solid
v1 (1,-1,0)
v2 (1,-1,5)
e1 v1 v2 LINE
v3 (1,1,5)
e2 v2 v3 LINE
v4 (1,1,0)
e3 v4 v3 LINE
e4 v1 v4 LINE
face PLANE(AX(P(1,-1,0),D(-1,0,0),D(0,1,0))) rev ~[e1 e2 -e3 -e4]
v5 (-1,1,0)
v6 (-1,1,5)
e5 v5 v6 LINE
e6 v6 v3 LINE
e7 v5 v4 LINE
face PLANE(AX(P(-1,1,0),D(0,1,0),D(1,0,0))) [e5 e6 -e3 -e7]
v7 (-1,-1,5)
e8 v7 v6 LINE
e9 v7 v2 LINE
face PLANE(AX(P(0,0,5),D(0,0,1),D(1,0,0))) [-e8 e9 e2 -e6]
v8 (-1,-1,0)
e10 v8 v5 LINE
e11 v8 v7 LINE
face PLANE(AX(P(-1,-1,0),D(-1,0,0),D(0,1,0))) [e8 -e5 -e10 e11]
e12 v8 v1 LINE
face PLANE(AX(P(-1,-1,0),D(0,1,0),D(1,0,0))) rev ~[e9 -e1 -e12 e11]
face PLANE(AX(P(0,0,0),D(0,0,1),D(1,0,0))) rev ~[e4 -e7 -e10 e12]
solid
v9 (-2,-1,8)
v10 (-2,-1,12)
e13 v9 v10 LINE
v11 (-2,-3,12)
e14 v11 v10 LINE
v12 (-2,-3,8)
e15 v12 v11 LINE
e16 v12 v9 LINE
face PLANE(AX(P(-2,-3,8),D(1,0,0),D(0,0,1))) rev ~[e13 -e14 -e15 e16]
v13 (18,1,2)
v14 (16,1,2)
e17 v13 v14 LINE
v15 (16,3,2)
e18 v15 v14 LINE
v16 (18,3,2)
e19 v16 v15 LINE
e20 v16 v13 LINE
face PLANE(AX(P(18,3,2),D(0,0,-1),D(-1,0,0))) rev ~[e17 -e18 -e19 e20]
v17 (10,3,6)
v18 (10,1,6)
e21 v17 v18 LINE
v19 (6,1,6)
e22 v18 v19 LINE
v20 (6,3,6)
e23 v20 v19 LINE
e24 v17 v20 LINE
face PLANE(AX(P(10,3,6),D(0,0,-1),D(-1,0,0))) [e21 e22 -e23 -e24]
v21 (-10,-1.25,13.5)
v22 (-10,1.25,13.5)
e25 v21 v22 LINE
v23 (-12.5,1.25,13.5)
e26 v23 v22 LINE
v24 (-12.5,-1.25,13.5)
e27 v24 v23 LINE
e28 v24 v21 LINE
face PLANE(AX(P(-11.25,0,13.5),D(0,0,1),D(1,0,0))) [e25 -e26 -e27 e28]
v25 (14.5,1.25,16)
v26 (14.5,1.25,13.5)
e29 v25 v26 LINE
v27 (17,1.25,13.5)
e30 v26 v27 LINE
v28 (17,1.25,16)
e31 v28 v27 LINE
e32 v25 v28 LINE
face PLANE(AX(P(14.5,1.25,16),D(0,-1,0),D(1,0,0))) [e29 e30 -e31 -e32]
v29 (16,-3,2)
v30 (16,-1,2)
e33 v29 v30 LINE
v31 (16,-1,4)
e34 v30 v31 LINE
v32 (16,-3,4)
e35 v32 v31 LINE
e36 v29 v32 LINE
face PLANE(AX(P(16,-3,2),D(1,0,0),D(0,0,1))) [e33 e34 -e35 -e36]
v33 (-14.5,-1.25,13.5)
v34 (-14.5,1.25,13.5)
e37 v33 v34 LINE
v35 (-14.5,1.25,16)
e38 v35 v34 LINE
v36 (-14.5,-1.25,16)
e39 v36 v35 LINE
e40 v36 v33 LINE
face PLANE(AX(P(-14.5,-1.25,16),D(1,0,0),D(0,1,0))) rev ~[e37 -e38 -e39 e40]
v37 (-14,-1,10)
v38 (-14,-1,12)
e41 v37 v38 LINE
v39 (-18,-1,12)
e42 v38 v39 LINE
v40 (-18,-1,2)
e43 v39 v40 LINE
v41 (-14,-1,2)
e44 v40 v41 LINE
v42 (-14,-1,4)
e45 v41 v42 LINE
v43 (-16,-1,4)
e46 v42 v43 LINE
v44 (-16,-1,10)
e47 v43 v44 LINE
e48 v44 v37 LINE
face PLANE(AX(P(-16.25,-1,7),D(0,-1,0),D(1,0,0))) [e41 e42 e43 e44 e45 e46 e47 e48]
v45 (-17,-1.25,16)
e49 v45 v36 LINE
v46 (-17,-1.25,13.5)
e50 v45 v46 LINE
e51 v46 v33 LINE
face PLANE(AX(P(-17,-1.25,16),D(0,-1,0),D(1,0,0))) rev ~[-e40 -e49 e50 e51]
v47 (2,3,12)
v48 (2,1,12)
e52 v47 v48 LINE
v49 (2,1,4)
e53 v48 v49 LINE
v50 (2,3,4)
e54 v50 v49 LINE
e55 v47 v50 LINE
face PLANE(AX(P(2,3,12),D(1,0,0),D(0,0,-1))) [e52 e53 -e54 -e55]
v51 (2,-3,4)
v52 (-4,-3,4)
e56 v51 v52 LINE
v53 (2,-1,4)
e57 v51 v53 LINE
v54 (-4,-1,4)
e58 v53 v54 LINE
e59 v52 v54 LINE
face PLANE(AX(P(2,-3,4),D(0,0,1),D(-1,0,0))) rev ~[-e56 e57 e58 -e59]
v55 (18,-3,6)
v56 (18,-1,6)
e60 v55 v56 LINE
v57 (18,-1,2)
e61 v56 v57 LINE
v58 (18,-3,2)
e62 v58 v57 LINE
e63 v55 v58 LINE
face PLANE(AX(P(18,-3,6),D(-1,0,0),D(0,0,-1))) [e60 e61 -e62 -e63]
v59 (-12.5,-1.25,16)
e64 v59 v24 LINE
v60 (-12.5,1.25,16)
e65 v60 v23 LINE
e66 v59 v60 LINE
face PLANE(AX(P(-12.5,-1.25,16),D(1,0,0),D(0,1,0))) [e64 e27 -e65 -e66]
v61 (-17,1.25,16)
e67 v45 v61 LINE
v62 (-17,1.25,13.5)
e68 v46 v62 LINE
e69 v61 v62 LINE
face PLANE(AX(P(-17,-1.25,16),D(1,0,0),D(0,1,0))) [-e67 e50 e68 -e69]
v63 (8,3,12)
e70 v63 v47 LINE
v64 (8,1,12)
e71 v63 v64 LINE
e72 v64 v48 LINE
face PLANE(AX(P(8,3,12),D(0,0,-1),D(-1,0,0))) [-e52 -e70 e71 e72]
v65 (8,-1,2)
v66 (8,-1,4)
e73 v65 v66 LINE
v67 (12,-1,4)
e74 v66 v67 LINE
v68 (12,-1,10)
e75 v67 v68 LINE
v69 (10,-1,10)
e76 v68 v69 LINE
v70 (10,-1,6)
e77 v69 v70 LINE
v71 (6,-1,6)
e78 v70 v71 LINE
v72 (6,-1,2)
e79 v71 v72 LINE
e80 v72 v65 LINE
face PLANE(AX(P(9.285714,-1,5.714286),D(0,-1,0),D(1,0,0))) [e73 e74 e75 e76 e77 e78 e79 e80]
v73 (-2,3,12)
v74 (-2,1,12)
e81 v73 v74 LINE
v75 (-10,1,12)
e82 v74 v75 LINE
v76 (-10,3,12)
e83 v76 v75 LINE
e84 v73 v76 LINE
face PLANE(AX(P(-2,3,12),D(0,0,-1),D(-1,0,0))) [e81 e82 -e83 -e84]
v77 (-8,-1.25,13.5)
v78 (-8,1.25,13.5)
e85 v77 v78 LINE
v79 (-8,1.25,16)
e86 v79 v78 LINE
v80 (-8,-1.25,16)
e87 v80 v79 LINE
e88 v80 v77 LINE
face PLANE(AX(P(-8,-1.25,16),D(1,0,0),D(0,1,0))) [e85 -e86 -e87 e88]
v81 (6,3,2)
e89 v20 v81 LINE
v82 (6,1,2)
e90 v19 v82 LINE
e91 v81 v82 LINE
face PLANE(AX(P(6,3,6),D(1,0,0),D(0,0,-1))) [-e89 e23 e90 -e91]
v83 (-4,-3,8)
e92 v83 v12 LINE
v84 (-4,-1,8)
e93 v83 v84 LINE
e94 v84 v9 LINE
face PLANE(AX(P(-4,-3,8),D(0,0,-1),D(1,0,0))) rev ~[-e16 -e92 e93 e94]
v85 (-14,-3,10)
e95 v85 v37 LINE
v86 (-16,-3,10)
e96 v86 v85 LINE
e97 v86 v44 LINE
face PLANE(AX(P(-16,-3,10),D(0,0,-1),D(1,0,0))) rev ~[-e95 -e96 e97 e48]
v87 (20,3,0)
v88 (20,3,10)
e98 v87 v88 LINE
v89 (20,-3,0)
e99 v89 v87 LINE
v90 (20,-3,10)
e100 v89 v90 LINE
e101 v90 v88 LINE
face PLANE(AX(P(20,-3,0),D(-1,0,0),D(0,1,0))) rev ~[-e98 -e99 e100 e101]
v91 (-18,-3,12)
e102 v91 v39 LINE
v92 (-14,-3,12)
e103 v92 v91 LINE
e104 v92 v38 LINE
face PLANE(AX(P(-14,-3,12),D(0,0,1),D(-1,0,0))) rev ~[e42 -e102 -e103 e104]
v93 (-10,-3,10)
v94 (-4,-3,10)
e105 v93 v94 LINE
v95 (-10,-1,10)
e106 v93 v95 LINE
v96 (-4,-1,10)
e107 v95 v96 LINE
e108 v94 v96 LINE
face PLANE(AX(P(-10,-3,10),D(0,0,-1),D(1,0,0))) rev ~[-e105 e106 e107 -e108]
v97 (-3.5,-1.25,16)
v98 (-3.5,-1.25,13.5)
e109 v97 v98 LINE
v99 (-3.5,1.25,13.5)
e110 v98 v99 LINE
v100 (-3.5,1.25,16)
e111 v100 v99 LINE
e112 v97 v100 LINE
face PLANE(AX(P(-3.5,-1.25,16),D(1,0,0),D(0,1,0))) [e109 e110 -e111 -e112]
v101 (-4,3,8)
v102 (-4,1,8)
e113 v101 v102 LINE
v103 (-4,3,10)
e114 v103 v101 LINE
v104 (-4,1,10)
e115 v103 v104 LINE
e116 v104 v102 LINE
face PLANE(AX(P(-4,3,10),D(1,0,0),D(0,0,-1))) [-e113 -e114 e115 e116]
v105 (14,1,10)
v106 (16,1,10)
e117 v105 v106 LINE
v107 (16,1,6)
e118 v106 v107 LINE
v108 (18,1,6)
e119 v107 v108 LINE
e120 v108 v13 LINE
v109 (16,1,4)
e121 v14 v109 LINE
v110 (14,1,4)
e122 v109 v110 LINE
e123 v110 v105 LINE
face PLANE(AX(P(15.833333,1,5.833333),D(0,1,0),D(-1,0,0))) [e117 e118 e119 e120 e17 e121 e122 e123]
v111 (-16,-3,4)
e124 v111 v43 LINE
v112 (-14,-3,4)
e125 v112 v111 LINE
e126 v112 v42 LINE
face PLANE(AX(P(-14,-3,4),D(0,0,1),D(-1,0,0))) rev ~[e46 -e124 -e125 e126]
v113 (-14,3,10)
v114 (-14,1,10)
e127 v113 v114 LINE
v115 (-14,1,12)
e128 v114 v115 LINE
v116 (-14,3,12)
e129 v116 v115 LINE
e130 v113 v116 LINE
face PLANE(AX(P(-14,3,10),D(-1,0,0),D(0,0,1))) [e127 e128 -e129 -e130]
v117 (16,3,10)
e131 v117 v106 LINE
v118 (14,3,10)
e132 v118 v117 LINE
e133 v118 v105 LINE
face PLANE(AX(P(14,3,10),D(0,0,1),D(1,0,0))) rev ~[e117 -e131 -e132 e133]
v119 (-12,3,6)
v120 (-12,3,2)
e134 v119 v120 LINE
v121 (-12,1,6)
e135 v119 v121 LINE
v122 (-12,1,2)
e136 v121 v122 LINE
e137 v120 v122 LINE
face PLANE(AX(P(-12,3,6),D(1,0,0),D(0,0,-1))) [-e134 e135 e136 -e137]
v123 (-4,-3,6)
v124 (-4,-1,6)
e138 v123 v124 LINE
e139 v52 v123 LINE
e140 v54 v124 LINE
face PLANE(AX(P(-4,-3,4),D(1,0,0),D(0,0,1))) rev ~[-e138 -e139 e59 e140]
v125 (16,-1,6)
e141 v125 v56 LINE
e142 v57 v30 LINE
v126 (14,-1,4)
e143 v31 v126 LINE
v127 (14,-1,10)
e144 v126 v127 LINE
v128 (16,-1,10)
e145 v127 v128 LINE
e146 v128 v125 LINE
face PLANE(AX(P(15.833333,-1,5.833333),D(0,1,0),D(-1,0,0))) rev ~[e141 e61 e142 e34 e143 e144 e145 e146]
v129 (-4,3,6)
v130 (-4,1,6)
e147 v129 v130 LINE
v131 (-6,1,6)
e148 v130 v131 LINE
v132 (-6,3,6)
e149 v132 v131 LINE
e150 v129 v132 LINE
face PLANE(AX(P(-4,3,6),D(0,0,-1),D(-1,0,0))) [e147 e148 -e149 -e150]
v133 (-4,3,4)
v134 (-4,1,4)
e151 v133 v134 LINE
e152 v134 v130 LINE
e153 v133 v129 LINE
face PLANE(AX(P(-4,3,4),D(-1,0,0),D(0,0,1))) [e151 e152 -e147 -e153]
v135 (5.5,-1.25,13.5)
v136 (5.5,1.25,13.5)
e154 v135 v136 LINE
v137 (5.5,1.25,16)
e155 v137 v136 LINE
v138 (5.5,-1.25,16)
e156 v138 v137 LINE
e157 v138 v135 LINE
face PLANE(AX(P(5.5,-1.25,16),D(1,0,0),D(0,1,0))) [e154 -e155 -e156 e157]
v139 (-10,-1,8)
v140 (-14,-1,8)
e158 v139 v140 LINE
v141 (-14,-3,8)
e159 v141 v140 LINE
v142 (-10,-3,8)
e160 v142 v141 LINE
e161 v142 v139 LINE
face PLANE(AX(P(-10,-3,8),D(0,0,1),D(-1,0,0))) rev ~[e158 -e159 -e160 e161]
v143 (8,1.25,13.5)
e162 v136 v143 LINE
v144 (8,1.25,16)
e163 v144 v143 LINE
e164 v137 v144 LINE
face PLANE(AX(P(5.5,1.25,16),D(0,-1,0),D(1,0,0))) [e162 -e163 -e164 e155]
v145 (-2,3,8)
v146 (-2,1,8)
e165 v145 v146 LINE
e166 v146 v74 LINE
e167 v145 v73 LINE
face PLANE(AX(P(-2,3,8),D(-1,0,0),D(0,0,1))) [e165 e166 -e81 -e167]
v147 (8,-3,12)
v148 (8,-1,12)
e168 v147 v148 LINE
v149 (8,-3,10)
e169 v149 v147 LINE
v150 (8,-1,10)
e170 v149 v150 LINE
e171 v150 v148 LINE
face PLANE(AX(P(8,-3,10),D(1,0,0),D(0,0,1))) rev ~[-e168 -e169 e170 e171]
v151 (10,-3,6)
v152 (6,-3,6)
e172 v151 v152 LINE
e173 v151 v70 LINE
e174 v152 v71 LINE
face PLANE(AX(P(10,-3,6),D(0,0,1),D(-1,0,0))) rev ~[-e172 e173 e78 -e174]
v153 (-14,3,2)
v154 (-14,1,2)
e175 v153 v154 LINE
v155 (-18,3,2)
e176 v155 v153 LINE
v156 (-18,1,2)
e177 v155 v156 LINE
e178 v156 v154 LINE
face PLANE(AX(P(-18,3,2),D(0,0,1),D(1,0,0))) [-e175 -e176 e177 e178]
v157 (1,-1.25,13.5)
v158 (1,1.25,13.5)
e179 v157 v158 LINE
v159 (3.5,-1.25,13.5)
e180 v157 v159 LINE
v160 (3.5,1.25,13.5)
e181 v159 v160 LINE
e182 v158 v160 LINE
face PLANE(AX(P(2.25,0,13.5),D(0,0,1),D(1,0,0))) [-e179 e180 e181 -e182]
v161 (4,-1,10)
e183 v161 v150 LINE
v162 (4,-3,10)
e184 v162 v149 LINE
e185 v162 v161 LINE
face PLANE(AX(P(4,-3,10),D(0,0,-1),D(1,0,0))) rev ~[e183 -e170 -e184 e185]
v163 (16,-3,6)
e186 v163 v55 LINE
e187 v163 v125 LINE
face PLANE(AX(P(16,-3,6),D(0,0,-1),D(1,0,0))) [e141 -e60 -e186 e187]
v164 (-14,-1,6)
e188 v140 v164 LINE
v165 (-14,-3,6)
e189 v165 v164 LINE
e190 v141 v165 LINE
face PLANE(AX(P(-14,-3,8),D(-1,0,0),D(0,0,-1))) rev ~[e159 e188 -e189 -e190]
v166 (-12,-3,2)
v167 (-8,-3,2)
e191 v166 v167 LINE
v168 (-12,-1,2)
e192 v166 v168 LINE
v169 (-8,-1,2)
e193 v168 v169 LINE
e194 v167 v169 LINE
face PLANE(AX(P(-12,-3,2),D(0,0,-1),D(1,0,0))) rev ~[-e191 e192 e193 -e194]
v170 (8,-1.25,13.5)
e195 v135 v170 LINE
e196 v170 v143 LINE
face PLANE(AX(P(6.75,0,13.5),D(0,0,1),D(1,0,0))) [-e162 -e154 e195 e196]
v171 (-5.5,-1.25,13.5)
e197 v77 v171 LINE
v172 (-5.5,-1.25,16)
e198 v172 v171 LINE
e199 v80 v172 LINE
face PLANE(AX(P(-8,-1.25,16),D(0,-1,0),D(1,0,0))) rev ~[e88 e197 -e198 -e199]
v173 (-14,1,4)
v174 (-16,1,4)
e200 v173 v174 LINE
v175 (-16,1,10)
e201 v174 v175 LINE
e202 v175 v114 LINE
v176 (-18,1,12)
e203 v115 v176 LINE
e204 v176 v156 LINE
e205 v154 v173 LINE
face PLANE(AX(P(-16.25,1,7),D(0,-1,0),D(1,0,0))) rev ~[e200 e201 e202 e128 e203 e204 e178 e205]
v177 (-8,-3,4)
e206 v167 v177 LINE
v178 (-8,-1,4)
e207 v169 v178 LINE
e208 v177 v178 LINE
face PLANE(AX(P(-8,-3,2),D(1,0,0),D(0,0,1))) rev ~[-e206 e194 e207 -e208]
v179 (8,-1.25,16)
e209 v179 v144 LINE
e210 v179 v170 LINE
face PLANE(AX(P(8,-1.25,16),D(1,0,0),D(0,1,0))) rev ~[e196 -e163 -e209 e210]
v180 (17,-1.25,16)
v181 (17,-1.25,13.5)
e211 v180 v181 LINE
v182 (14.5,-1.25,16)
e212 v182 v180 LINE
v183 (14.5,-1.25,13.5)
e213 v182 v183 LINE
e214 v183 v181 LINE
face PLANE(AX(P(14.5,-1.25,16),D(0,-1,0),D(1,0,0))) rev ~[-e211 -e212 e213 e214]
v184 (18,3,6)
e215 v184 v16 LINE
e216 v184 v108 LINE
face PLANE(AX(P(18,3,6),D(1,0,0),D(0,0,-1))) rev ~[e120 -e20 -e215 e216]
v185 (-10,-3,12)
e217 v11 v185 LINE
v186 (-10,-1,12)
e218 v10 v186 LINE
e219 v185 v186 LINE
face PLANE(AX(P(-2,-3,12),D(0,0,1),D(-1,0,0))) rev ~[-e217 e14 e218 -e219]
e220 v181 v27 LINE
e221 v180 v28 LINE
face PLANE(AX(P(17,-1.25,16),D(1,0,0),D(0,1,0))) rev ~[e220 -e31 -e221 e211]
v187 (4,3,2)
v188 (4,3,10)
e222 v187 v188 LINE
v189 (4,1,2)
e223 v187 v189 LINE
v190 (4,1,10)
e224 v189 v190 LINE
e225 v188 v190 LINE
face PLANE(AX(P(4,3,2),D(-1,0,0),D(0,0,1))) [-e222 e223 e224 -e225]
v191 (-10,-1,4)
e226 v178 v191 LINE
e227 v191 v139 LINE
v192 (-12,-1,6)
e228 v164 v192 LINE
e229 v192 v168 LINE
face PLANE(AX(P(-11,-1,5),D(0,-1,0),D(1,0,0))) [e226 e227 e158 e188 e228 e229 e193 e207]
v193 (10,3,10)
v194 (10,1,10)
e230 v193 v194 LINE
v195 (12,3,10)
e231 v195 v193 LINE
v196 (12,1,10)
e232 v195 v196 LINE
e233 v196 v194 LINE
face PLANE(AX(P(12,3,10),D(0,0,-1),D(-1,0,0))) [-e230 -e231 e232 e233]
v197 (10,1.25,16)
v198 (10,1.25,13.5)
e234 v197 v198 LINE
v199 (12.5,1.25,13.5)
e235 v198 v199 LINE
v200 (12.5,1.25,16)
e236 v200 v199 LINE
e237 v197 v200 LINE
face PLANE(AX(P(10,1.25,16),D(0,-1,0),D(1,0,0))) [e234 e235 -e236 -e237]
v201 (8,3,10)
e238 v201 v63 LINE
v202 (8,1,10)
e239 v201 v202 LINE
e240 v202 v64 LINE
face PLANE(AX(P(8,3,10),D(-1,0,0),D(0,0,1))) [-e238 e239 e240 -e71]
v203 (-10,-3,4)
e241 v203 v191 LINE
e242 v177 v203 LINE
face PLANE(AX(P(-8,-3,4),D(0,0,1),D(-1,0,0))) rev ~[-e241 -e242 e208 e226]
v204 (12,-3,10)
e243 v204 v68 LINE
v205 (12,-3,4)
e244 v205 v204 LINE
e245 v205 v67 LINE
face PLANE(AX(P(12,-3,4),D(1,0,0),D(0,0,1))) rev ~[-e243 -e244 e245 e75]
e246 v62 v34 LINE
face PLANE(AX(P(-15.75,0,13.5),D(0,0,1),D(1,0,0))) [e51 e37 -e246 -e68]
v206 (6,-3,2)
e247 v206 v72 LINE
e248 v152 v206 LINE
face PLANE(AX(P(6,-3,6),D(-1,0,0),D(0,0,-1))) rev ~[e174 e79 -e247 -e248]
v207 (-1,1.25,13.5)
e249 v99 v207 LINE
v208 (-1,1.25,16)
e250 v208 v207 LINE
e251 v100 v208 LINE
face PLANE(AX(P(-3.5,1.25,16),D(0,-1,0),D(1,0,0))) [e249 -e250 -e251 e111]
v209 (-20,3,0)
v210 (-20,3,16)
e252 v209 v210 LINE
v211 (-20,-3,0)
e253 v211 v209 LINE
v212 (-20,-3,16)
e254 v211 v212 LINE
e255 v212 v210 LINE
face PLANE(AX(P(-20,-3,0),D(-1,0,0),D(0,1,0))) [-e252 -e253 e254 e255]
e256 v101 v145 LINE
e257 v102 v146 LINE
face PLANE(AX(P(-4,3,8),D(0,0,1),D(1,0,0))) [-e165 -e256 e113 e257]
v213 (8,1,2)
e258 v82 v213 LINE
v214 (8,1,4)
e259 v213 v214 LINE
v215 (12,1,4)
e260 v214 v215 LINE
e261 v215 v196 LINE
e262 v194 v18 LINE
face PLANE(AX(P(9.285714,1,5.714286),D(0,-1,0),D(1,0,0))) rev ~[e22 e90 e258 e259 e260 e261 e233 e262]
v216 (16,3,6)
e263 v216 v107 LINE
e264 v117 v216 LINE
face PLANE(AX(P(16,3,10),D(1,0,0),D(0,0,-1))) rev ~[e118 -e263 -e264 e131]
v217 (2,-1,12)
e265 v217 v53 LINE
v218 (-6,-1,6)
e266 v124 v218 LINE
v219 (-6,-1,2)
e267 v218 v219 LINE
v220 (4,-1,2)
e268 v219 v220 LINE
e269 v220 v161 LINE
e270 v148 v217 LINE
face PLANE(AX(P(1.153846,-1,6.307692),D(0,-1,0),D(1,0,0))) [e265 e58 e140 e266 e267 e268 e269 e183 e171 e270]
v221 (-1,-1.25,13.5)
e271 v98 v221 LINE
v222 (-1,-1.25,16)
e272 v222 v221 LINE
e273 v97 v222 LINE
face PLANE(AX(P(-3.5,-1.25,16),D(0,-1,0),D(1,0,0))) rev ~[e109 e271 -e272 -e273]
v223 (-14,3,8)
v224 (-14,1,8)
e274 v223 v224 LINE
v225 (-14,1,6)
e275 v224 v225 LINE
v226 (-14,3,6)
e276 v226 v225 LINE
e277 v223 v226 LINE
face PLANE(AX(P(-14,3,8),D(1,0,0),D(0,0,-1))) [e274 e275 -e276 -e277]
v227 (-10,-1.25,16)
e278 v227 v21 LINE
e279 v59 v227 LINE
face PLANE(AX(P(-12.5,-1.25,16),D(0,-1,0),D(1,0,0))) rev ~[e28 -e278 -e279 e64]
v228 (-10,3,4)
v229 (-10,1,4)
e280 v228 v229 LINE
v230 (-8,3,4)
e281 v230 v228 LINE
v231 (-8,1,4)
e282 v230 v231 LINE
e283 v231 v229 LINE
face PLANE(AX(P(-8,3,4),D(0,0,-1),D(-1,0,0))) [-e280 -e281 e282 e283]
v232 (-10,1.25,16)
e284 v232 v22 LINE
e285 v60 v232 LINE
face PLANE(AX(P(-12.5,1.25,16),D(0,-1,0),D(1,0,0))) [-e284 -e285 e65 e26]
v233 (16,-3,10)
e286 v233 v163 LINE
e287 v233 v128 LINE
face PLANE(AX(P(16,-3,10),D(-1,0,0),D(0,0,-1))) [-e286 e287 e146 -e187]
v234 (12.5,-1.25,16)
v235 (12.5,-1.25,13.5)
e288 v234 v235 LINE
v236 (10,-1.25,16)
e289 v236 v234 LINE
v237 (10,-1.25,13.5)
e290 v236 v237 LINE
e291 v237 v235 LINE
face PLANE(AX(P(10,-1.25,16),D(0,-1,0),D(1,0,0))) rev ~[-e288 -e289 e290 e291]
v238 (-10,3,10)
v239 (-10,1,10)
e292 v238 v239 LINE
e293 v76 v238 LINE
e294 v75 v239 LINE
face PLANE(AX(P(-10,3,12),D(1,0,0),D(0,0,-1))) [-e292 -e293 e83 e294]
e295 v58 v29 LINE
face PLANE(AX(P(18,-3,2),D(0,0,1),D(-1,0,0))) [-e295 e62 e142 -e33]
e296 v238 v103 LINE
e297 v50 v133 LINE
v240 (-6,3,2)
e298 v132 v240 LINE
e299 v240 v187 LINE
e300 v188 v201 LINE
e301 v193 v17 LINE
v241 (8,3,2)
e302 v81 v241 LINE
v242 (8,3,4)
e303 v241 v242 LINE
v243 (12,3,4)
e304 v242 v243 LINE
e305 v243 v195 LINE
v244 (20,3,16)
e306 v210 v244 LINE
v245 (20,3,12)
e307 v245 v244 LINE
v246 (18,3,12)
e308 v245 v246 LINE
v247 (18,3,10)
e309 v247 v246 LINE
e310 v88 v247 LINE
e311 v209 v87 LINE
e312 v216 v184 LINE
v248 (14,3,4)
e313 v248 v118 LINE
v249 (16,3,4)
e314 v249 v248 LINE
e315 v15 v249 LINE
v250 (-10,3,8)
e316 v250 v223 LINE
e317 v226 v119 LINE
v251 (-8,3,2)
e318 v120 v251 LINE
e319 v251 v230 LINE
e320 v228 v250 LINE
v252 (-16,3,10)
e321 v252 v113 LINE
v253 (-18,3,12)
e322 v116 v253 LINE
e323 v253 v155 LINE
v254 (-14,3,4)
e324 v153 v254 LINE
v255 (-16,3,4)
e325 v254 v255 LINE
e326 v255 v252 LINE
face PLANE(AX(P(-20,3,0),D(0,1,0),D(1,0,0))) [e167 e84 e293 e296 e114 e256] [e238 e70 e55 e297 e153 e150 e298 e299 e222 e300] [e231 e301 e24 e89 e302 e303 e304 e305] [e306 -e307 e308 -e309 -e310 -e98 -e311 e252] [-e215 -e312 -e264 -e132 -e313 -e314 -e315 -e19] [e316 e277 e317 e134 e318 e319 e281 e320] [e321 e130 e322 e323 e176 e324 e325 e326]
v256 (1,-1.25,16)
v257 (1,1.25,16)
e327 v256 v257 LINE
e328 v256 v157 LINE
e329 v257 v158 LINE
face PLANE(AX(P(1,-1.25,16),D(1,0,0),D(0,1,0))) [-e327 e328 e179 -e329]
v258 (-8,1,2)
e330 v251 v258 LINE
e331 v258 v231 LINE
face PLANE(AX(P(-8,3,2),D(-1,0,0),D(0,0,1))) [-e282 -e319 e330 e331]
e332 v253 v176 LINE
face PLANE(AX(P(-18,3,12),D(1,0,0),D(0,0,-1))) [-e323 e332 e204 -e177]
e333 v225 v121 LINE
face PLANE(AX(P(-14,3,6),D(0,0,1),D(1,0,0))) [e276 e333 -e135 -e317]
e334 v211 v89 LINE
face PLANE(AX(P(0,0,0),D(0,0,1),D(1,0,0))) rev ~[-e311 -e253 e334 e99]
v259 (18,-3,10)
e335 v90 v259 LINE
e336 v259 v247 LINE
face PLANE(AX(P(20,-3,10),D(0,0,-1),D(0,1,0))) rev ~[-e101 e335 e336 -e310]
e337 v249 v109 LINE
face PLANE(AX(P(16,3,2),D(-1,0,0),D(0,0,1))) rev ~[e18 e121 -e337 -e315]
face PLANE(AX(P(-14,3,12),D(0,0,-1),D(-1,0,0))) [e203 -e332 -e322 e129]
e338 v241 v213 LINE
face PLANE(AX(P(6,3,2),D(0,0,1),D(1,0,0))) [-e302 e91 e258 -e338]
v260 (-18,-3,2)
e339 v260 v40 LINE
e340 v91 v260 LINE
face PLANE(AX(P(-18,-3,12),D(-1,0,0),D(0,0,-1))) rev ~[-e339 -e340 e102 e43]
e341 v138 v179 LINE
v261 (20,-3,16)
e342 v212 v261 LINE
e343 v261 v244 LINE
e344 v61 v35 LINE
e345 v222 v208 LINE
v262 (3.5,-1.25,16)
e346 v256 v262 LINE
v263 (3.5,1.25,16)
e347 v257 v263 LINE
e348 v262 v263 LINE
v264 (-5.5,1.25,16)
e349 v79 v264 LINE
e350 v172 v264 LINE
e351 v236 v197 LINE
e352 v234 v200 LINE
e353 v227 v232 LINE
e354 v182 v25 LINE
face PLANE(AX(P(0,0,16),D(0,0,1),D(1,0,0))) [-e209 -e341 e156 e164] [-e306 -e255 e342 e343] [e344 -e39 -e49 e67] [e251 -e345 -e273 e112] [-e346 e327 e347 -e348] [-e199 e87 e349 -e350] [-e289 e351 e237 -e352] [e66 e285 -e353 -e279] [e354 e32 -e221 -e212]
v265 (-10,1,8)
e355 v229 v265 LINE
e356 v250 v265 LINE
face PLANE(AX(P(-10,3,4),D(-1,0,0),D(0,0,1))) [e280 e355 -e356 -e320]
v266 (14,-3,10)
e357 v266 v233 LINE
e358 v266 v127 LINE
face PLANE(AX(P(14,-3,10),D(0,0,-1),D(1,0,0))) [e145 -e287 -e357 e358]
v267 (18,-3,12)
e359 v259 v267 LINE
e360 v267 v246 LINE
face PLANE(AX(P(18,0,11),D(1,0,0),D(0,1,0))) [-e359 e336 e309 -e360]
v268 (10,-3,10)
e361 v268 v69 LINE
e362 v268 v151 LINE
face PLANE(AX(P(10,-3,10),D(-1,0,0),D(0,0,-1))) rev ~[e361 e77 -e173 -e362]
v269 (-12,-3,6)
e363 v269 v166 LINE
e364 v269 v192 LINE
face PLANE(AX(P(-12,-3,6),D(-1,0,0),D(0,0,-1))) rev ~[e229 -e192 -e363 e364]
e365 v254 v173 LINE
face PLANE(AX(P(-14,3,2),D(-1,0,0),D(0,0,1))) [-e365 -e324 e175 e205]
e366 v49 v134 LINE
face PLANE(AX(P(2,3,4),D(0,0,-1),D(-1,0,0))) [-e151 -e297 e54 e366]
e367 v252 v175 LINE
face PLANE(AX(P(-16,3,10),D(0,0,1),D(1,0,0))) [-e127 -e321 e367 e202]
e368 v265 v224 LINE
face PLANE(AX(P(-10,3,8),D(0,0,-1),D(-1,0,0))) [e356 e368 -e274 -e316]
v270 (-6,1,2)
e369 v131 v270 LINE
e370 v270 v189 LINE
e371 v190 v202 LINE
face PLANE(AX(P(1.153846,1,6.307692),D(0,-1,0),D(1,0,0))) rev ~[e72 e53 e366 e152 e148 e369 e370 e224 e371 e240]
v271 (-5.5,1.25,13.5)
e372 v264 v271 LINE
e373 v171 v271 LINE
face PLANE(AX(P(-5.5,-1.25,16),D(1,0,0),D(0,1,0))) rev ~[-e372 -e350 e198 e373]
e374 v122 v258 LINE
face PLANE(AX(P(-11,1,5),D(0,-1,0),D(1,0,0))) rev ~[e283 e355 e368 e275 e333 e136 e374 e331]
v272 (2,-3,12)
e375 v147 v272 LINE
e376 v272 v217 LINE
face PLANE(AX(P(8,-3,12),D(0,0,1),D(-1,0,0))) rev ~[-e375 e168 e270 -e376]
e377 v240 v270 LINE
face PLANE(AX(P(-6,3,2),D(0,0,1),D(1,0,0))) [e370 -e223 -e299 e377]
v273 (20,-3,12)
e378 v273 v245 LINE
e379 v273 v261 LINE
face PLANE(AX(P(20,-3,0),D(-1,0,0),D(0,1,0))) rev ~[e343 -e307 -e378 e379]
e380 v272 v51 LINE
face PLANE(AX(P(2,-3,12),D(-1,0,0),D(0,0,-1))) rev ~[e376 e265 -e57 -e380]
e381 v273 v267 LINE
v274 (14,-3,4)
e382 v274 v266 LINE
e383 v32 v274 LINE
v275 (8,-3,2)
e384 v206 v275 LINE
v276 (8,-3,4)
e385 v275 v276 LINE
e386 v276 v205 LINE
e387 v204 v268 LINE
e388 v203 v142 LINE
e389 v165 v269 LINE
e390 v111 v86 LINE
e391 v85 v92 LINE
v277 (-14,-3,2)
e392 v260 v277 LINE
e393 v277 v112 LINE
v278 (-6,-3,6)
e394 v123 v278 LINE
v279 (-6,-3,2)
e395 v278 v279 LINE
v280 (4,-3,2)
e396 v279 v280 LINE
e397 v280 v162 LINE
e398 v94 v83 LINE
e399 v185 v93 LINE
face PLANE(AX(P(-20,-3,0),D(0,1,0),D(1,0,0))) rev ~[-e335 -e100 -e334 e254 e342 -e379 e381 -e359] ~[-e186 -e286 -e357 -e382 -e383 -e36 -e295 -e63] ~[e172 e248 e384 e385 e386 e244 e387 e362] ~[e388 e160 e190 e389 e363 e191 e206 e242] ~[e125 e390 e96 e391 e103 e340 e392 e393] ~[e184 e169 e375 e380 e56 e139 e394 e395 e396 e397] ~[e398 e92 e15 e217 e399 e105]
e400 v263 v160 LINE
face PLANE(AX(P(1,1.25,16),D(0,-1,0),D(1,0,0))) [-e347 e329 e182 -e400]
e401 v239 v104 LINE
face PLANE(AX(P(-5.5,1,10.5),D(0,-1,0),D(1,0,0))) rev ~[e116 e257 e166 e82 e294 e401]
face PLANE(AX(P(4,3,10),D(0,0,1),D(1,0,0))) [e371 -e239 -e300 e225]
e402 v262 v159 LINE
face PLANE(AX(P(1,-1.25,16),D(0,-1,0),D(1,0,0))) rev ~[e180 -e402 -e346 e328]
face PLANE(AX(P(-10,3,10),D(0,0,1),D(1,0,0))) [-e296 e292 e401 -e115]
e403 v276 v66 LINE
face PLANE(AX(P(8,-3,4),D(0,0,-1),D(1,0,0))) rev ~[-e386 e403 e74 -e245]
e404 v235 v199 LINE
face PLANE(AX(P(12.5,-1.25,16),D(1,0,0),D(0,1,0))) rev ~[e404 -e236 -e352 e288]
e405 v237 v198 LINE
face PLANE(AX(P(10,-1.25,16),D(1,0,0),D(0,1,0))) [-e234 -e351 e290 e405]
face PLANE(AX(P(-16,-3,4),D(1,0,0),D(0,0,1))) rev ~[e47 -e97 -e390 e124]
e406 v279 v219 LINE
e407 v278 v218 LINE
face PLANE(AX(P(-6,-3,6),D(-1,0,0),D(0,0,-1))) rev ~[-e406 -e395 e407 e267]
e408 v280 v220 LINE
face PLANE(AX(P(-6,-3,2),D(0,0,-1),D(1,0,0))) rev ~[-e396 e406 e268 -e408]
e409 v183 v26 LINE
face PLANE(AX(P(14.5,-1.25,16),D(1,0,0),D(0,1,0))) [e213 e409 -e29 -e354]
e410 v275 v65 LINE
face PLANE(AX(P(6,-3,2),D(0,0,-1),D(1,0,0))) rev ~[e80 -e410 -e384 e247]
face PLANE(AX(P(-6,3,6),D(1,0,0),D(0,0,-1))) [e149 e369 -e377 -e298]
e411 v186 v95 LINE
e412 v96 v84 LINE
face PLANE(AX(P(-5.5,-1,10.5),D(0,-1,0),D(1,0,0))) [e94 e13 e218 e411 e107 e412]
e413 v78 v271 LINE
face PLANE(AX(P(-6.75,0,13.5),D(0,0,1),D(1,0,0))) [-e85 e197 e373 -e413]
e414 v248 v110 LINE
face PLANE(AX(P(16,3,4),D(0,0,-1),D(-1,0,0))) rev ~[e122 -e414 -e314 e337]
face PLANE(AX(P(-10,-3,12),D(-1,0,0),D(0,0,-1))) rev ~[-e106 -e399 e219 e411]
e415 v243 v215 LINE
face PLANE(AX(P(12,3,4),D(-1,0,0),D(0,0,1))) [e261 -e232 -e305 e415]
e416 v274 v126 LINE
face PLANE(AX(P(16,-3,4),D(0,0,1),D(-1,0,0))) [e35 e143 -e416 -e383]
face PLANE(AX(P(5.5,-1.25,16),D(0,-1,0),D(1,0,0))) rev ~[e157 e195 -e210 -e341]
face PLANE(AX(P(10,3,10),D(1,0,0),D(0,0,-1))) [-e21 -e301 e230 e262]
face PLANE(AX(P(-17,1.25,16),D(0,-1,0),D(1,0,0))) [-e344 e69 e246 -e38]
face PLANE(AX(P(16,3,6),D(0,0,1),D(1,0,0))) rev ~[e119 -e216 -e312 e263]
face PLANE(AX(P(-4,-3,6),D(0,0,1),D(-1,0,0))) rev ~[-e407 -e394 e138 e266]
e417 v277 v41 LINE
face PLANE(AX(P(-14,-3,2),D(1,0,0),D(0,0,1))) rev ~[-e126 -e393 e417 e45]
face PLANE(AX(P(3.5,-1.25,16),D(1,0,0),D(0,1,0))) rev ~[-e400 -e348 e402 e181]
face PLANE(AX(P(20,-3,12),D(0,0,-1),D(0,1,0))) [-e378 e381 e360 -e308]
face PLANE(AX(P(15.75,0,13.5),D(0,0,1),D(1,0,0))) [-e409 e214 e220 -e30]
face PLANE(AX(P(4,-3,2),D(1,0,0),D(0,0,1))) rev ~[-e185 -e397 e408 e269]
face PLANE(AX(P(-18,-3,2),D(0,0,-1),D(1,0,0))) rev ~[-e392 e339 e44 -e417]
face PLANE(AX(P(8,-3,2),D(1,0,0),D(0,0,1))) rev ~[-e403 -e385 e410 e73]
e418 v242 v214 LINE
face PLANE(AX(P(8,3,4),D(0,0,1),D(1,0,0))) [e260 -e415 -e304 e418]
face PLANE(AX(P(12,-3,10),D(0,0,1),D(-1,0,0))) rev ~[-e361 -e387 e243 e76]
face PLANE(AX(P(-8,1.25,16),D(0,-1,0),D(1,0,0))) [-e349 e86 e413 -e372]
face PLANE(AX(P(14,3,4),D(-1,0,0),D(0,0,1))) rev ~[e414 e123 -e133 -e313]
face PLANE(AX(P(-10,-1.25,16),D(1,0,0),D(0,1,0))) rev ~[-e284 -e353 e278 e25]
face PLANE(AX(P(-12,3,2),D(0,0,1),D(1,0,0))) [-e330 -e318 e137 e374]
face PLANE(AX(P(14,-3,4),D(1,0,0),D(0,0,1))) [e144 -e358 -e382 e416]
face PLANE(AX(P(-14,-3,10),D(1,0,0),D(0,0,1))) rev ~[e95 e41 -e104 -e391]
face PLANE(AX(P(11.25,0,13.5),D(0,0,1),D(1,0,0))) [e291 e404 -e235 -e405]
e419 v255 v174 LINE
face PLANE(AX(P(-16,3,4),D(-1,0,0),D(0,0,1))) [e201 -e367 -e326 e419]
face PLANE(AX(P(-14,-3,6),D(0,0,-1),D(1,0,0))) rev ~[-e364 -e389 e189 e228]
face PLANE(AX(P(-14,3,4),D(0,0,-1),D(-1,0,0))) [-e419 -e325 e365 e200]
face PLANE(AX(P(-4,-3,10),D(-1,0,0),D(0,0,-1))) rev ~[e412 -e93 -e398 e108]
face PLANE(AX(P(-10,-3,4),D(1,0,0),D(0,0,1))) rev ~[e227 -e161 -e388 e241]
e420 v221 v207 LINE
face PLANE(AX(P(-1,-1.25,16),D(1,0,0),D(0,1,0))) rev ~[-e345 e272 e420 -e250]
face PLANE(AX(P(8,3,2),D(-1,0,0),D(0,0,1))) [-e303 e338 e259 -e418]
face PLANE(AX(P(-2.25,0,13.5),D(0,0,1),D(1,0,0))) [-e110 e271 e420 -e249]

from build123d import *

# Parameters (mm, degrees)
SKETCH_W        = 40
SKETCH_H        = 6
PAD_DEPTH       = 16
SKETCH001_W     = 2.5
SKETCH001_H     = 2.5
POCKET_DEPTH    = 2.5
POCKET001_DEPTH = 2
POCKET002_DEPTH = 2
SKETCH009_W     = 6
SKETCH009_H     = 2
POCKET003_DEPTH = 2
SKETCH010_W     = 2
SKETCH010_H     = 2
PAD001_DEPTH    = 5


with BuildPart() as base:
    # Sketch → Pad (new body)
    with BuildSketch(Plane.XY):
        Rectangle(SKETCH_W, SKETCH_H)
    extrude(amount=PAD_DEPTH)

    # Sketch001 (on Face6 of Pad) → Pocket (cut)
    with BuildSketch(Plane.XY.offset(16)):
        with Locations((2.25, 0)):
            Rectangle(SKETCH001_W, SKETCH001_H)
        with Locations((6.75, 0)):
            Rectangle(SKETCH001_W, SKETCH001_H)
        with Locations((11.25, 0)):
            Rectangle(SKETCH001_W, SKETCH001_H)
        with Locations((15.75, 0)):
            Rectangle(SKETCH001_W, SKETCH001_H)
        with Locations((-2.25, 0)):
            Rectangle(SKETCH001_W, SKETCH001_H)
        with Locations((-6.75, 0)):
            Rectangle(SKETCH001_W, SKETCH001_H)
        with Locations((-11.25, 0)):
            Rectangle(SKETCH001_W, SKETCH001_H)
        with Locations((-15.75, 0)):
            Rectangle(SKETCH001_W, SKETCH001_H)
    extrude(amount=-POCKET_DEPTH, mode=Mode.SUBTRACT)

    # Sketch008 (on Face2 of Pocket) → Pocket001 (cut)
    with BuildSketch(Plane.XZ.offset(3)):
        Polygon((-18, 12), (-18, 2), (-14, 2), (-14, 4), (-16, 4), (-16, 10), (-14, 10), (-14, 12), align=None)
        Polygon((-10, 12), (-10, 10), (-4, 10), (-4, 8), (-2, 8), (-2, 12), align=None)
        Polygon((-12, 2), (-8, 2), (-8, 4), (-10, 4), (-10, 8), (-14, 8), (-14, 6), (-12, 6), align=None)
        Polygon((-6, 6), (-6, 2), (4, 2), (4, 10), (8, 10), (8, 12), (2, 12), (2, 4), (-4, 4), (-4, 6), align=None)
        Polygon((6, 6), (6, 2), (8, 2), (8, 4), (12, 4), (12, 10), (10, 10), (10, 6), align=None)
        Polygon((14, 4), (14, 10), (16, 10), (16, 6), (18, 6), (18, 2), (16, 2), (16, 4), align=None)
    extrude(amount=-POCKET001_DEPTH, mode=Mode.SUBTRACT)

    # MirroredSketch (on Face3 of Pocket001) → Pocket002 (cut)
    with BuildSketch(Plane(origin=(0, 3, 0), x_dir=(-1, 0, 0), z_dir=(0, 1, 0))):
        Polygon((18, 12), (18, 2), (14, 2), (14, 4), (16, 4), (16, 10), (14, 10), (14, 12), align=None)
        Polygon((10, 12), (10, 10), (4, 10), (4, 8), (2, 8), (2, 12), align=None)
        Polygon((12, 2), (8, 2), (8, 4), (10, 4), (10, 8), (14, 8), (14, 6), (12, 6), align=None)
        Polygon((6, 6), (6, 2), (-4, 2), (-4, 10), (-8, 10), (-8, 12), (-2, 12), (-2, 4), (4, 4), (4, 6), align=None)
        Polygon((-6, 6), (-6, 2), (-8, 2), (-8, 4), (-12, 4), (-12, 10), (-10, 10), (-10, 6), align=None)
        Polygon((-14, 4), (-14, 10), (-16, 10), (-16, 6), (-18, 6), (-18, 2), (-16, 2), (-16, 4), align=None)
    extrude(amount=-POCKET002_DEPTH, mode=Mode.SUBTRACT)

    # Sketch009 (on Face6 of Pocket002) → Pocket003 (cut)
    with BuildSketch(Plane.YZ.offset(20)):
        with Locations((0, 11)):
            Rectangle(SKETCH009_W, SKETCH009_H)
    extrude(amount=-POCKET003_DEPTH, mode=Mode.SUBTRACT)


with BuildPart() as indicator:
    # Sketch010 → Pad001 (new body)
    with BuildSketch(Plane.XY):
        Rectangle(SKETCH010_W, SKETCH010_H)
    extrude(amount=PAD001_DEPTH)


solid = Compound([base.part, indicator.part])
